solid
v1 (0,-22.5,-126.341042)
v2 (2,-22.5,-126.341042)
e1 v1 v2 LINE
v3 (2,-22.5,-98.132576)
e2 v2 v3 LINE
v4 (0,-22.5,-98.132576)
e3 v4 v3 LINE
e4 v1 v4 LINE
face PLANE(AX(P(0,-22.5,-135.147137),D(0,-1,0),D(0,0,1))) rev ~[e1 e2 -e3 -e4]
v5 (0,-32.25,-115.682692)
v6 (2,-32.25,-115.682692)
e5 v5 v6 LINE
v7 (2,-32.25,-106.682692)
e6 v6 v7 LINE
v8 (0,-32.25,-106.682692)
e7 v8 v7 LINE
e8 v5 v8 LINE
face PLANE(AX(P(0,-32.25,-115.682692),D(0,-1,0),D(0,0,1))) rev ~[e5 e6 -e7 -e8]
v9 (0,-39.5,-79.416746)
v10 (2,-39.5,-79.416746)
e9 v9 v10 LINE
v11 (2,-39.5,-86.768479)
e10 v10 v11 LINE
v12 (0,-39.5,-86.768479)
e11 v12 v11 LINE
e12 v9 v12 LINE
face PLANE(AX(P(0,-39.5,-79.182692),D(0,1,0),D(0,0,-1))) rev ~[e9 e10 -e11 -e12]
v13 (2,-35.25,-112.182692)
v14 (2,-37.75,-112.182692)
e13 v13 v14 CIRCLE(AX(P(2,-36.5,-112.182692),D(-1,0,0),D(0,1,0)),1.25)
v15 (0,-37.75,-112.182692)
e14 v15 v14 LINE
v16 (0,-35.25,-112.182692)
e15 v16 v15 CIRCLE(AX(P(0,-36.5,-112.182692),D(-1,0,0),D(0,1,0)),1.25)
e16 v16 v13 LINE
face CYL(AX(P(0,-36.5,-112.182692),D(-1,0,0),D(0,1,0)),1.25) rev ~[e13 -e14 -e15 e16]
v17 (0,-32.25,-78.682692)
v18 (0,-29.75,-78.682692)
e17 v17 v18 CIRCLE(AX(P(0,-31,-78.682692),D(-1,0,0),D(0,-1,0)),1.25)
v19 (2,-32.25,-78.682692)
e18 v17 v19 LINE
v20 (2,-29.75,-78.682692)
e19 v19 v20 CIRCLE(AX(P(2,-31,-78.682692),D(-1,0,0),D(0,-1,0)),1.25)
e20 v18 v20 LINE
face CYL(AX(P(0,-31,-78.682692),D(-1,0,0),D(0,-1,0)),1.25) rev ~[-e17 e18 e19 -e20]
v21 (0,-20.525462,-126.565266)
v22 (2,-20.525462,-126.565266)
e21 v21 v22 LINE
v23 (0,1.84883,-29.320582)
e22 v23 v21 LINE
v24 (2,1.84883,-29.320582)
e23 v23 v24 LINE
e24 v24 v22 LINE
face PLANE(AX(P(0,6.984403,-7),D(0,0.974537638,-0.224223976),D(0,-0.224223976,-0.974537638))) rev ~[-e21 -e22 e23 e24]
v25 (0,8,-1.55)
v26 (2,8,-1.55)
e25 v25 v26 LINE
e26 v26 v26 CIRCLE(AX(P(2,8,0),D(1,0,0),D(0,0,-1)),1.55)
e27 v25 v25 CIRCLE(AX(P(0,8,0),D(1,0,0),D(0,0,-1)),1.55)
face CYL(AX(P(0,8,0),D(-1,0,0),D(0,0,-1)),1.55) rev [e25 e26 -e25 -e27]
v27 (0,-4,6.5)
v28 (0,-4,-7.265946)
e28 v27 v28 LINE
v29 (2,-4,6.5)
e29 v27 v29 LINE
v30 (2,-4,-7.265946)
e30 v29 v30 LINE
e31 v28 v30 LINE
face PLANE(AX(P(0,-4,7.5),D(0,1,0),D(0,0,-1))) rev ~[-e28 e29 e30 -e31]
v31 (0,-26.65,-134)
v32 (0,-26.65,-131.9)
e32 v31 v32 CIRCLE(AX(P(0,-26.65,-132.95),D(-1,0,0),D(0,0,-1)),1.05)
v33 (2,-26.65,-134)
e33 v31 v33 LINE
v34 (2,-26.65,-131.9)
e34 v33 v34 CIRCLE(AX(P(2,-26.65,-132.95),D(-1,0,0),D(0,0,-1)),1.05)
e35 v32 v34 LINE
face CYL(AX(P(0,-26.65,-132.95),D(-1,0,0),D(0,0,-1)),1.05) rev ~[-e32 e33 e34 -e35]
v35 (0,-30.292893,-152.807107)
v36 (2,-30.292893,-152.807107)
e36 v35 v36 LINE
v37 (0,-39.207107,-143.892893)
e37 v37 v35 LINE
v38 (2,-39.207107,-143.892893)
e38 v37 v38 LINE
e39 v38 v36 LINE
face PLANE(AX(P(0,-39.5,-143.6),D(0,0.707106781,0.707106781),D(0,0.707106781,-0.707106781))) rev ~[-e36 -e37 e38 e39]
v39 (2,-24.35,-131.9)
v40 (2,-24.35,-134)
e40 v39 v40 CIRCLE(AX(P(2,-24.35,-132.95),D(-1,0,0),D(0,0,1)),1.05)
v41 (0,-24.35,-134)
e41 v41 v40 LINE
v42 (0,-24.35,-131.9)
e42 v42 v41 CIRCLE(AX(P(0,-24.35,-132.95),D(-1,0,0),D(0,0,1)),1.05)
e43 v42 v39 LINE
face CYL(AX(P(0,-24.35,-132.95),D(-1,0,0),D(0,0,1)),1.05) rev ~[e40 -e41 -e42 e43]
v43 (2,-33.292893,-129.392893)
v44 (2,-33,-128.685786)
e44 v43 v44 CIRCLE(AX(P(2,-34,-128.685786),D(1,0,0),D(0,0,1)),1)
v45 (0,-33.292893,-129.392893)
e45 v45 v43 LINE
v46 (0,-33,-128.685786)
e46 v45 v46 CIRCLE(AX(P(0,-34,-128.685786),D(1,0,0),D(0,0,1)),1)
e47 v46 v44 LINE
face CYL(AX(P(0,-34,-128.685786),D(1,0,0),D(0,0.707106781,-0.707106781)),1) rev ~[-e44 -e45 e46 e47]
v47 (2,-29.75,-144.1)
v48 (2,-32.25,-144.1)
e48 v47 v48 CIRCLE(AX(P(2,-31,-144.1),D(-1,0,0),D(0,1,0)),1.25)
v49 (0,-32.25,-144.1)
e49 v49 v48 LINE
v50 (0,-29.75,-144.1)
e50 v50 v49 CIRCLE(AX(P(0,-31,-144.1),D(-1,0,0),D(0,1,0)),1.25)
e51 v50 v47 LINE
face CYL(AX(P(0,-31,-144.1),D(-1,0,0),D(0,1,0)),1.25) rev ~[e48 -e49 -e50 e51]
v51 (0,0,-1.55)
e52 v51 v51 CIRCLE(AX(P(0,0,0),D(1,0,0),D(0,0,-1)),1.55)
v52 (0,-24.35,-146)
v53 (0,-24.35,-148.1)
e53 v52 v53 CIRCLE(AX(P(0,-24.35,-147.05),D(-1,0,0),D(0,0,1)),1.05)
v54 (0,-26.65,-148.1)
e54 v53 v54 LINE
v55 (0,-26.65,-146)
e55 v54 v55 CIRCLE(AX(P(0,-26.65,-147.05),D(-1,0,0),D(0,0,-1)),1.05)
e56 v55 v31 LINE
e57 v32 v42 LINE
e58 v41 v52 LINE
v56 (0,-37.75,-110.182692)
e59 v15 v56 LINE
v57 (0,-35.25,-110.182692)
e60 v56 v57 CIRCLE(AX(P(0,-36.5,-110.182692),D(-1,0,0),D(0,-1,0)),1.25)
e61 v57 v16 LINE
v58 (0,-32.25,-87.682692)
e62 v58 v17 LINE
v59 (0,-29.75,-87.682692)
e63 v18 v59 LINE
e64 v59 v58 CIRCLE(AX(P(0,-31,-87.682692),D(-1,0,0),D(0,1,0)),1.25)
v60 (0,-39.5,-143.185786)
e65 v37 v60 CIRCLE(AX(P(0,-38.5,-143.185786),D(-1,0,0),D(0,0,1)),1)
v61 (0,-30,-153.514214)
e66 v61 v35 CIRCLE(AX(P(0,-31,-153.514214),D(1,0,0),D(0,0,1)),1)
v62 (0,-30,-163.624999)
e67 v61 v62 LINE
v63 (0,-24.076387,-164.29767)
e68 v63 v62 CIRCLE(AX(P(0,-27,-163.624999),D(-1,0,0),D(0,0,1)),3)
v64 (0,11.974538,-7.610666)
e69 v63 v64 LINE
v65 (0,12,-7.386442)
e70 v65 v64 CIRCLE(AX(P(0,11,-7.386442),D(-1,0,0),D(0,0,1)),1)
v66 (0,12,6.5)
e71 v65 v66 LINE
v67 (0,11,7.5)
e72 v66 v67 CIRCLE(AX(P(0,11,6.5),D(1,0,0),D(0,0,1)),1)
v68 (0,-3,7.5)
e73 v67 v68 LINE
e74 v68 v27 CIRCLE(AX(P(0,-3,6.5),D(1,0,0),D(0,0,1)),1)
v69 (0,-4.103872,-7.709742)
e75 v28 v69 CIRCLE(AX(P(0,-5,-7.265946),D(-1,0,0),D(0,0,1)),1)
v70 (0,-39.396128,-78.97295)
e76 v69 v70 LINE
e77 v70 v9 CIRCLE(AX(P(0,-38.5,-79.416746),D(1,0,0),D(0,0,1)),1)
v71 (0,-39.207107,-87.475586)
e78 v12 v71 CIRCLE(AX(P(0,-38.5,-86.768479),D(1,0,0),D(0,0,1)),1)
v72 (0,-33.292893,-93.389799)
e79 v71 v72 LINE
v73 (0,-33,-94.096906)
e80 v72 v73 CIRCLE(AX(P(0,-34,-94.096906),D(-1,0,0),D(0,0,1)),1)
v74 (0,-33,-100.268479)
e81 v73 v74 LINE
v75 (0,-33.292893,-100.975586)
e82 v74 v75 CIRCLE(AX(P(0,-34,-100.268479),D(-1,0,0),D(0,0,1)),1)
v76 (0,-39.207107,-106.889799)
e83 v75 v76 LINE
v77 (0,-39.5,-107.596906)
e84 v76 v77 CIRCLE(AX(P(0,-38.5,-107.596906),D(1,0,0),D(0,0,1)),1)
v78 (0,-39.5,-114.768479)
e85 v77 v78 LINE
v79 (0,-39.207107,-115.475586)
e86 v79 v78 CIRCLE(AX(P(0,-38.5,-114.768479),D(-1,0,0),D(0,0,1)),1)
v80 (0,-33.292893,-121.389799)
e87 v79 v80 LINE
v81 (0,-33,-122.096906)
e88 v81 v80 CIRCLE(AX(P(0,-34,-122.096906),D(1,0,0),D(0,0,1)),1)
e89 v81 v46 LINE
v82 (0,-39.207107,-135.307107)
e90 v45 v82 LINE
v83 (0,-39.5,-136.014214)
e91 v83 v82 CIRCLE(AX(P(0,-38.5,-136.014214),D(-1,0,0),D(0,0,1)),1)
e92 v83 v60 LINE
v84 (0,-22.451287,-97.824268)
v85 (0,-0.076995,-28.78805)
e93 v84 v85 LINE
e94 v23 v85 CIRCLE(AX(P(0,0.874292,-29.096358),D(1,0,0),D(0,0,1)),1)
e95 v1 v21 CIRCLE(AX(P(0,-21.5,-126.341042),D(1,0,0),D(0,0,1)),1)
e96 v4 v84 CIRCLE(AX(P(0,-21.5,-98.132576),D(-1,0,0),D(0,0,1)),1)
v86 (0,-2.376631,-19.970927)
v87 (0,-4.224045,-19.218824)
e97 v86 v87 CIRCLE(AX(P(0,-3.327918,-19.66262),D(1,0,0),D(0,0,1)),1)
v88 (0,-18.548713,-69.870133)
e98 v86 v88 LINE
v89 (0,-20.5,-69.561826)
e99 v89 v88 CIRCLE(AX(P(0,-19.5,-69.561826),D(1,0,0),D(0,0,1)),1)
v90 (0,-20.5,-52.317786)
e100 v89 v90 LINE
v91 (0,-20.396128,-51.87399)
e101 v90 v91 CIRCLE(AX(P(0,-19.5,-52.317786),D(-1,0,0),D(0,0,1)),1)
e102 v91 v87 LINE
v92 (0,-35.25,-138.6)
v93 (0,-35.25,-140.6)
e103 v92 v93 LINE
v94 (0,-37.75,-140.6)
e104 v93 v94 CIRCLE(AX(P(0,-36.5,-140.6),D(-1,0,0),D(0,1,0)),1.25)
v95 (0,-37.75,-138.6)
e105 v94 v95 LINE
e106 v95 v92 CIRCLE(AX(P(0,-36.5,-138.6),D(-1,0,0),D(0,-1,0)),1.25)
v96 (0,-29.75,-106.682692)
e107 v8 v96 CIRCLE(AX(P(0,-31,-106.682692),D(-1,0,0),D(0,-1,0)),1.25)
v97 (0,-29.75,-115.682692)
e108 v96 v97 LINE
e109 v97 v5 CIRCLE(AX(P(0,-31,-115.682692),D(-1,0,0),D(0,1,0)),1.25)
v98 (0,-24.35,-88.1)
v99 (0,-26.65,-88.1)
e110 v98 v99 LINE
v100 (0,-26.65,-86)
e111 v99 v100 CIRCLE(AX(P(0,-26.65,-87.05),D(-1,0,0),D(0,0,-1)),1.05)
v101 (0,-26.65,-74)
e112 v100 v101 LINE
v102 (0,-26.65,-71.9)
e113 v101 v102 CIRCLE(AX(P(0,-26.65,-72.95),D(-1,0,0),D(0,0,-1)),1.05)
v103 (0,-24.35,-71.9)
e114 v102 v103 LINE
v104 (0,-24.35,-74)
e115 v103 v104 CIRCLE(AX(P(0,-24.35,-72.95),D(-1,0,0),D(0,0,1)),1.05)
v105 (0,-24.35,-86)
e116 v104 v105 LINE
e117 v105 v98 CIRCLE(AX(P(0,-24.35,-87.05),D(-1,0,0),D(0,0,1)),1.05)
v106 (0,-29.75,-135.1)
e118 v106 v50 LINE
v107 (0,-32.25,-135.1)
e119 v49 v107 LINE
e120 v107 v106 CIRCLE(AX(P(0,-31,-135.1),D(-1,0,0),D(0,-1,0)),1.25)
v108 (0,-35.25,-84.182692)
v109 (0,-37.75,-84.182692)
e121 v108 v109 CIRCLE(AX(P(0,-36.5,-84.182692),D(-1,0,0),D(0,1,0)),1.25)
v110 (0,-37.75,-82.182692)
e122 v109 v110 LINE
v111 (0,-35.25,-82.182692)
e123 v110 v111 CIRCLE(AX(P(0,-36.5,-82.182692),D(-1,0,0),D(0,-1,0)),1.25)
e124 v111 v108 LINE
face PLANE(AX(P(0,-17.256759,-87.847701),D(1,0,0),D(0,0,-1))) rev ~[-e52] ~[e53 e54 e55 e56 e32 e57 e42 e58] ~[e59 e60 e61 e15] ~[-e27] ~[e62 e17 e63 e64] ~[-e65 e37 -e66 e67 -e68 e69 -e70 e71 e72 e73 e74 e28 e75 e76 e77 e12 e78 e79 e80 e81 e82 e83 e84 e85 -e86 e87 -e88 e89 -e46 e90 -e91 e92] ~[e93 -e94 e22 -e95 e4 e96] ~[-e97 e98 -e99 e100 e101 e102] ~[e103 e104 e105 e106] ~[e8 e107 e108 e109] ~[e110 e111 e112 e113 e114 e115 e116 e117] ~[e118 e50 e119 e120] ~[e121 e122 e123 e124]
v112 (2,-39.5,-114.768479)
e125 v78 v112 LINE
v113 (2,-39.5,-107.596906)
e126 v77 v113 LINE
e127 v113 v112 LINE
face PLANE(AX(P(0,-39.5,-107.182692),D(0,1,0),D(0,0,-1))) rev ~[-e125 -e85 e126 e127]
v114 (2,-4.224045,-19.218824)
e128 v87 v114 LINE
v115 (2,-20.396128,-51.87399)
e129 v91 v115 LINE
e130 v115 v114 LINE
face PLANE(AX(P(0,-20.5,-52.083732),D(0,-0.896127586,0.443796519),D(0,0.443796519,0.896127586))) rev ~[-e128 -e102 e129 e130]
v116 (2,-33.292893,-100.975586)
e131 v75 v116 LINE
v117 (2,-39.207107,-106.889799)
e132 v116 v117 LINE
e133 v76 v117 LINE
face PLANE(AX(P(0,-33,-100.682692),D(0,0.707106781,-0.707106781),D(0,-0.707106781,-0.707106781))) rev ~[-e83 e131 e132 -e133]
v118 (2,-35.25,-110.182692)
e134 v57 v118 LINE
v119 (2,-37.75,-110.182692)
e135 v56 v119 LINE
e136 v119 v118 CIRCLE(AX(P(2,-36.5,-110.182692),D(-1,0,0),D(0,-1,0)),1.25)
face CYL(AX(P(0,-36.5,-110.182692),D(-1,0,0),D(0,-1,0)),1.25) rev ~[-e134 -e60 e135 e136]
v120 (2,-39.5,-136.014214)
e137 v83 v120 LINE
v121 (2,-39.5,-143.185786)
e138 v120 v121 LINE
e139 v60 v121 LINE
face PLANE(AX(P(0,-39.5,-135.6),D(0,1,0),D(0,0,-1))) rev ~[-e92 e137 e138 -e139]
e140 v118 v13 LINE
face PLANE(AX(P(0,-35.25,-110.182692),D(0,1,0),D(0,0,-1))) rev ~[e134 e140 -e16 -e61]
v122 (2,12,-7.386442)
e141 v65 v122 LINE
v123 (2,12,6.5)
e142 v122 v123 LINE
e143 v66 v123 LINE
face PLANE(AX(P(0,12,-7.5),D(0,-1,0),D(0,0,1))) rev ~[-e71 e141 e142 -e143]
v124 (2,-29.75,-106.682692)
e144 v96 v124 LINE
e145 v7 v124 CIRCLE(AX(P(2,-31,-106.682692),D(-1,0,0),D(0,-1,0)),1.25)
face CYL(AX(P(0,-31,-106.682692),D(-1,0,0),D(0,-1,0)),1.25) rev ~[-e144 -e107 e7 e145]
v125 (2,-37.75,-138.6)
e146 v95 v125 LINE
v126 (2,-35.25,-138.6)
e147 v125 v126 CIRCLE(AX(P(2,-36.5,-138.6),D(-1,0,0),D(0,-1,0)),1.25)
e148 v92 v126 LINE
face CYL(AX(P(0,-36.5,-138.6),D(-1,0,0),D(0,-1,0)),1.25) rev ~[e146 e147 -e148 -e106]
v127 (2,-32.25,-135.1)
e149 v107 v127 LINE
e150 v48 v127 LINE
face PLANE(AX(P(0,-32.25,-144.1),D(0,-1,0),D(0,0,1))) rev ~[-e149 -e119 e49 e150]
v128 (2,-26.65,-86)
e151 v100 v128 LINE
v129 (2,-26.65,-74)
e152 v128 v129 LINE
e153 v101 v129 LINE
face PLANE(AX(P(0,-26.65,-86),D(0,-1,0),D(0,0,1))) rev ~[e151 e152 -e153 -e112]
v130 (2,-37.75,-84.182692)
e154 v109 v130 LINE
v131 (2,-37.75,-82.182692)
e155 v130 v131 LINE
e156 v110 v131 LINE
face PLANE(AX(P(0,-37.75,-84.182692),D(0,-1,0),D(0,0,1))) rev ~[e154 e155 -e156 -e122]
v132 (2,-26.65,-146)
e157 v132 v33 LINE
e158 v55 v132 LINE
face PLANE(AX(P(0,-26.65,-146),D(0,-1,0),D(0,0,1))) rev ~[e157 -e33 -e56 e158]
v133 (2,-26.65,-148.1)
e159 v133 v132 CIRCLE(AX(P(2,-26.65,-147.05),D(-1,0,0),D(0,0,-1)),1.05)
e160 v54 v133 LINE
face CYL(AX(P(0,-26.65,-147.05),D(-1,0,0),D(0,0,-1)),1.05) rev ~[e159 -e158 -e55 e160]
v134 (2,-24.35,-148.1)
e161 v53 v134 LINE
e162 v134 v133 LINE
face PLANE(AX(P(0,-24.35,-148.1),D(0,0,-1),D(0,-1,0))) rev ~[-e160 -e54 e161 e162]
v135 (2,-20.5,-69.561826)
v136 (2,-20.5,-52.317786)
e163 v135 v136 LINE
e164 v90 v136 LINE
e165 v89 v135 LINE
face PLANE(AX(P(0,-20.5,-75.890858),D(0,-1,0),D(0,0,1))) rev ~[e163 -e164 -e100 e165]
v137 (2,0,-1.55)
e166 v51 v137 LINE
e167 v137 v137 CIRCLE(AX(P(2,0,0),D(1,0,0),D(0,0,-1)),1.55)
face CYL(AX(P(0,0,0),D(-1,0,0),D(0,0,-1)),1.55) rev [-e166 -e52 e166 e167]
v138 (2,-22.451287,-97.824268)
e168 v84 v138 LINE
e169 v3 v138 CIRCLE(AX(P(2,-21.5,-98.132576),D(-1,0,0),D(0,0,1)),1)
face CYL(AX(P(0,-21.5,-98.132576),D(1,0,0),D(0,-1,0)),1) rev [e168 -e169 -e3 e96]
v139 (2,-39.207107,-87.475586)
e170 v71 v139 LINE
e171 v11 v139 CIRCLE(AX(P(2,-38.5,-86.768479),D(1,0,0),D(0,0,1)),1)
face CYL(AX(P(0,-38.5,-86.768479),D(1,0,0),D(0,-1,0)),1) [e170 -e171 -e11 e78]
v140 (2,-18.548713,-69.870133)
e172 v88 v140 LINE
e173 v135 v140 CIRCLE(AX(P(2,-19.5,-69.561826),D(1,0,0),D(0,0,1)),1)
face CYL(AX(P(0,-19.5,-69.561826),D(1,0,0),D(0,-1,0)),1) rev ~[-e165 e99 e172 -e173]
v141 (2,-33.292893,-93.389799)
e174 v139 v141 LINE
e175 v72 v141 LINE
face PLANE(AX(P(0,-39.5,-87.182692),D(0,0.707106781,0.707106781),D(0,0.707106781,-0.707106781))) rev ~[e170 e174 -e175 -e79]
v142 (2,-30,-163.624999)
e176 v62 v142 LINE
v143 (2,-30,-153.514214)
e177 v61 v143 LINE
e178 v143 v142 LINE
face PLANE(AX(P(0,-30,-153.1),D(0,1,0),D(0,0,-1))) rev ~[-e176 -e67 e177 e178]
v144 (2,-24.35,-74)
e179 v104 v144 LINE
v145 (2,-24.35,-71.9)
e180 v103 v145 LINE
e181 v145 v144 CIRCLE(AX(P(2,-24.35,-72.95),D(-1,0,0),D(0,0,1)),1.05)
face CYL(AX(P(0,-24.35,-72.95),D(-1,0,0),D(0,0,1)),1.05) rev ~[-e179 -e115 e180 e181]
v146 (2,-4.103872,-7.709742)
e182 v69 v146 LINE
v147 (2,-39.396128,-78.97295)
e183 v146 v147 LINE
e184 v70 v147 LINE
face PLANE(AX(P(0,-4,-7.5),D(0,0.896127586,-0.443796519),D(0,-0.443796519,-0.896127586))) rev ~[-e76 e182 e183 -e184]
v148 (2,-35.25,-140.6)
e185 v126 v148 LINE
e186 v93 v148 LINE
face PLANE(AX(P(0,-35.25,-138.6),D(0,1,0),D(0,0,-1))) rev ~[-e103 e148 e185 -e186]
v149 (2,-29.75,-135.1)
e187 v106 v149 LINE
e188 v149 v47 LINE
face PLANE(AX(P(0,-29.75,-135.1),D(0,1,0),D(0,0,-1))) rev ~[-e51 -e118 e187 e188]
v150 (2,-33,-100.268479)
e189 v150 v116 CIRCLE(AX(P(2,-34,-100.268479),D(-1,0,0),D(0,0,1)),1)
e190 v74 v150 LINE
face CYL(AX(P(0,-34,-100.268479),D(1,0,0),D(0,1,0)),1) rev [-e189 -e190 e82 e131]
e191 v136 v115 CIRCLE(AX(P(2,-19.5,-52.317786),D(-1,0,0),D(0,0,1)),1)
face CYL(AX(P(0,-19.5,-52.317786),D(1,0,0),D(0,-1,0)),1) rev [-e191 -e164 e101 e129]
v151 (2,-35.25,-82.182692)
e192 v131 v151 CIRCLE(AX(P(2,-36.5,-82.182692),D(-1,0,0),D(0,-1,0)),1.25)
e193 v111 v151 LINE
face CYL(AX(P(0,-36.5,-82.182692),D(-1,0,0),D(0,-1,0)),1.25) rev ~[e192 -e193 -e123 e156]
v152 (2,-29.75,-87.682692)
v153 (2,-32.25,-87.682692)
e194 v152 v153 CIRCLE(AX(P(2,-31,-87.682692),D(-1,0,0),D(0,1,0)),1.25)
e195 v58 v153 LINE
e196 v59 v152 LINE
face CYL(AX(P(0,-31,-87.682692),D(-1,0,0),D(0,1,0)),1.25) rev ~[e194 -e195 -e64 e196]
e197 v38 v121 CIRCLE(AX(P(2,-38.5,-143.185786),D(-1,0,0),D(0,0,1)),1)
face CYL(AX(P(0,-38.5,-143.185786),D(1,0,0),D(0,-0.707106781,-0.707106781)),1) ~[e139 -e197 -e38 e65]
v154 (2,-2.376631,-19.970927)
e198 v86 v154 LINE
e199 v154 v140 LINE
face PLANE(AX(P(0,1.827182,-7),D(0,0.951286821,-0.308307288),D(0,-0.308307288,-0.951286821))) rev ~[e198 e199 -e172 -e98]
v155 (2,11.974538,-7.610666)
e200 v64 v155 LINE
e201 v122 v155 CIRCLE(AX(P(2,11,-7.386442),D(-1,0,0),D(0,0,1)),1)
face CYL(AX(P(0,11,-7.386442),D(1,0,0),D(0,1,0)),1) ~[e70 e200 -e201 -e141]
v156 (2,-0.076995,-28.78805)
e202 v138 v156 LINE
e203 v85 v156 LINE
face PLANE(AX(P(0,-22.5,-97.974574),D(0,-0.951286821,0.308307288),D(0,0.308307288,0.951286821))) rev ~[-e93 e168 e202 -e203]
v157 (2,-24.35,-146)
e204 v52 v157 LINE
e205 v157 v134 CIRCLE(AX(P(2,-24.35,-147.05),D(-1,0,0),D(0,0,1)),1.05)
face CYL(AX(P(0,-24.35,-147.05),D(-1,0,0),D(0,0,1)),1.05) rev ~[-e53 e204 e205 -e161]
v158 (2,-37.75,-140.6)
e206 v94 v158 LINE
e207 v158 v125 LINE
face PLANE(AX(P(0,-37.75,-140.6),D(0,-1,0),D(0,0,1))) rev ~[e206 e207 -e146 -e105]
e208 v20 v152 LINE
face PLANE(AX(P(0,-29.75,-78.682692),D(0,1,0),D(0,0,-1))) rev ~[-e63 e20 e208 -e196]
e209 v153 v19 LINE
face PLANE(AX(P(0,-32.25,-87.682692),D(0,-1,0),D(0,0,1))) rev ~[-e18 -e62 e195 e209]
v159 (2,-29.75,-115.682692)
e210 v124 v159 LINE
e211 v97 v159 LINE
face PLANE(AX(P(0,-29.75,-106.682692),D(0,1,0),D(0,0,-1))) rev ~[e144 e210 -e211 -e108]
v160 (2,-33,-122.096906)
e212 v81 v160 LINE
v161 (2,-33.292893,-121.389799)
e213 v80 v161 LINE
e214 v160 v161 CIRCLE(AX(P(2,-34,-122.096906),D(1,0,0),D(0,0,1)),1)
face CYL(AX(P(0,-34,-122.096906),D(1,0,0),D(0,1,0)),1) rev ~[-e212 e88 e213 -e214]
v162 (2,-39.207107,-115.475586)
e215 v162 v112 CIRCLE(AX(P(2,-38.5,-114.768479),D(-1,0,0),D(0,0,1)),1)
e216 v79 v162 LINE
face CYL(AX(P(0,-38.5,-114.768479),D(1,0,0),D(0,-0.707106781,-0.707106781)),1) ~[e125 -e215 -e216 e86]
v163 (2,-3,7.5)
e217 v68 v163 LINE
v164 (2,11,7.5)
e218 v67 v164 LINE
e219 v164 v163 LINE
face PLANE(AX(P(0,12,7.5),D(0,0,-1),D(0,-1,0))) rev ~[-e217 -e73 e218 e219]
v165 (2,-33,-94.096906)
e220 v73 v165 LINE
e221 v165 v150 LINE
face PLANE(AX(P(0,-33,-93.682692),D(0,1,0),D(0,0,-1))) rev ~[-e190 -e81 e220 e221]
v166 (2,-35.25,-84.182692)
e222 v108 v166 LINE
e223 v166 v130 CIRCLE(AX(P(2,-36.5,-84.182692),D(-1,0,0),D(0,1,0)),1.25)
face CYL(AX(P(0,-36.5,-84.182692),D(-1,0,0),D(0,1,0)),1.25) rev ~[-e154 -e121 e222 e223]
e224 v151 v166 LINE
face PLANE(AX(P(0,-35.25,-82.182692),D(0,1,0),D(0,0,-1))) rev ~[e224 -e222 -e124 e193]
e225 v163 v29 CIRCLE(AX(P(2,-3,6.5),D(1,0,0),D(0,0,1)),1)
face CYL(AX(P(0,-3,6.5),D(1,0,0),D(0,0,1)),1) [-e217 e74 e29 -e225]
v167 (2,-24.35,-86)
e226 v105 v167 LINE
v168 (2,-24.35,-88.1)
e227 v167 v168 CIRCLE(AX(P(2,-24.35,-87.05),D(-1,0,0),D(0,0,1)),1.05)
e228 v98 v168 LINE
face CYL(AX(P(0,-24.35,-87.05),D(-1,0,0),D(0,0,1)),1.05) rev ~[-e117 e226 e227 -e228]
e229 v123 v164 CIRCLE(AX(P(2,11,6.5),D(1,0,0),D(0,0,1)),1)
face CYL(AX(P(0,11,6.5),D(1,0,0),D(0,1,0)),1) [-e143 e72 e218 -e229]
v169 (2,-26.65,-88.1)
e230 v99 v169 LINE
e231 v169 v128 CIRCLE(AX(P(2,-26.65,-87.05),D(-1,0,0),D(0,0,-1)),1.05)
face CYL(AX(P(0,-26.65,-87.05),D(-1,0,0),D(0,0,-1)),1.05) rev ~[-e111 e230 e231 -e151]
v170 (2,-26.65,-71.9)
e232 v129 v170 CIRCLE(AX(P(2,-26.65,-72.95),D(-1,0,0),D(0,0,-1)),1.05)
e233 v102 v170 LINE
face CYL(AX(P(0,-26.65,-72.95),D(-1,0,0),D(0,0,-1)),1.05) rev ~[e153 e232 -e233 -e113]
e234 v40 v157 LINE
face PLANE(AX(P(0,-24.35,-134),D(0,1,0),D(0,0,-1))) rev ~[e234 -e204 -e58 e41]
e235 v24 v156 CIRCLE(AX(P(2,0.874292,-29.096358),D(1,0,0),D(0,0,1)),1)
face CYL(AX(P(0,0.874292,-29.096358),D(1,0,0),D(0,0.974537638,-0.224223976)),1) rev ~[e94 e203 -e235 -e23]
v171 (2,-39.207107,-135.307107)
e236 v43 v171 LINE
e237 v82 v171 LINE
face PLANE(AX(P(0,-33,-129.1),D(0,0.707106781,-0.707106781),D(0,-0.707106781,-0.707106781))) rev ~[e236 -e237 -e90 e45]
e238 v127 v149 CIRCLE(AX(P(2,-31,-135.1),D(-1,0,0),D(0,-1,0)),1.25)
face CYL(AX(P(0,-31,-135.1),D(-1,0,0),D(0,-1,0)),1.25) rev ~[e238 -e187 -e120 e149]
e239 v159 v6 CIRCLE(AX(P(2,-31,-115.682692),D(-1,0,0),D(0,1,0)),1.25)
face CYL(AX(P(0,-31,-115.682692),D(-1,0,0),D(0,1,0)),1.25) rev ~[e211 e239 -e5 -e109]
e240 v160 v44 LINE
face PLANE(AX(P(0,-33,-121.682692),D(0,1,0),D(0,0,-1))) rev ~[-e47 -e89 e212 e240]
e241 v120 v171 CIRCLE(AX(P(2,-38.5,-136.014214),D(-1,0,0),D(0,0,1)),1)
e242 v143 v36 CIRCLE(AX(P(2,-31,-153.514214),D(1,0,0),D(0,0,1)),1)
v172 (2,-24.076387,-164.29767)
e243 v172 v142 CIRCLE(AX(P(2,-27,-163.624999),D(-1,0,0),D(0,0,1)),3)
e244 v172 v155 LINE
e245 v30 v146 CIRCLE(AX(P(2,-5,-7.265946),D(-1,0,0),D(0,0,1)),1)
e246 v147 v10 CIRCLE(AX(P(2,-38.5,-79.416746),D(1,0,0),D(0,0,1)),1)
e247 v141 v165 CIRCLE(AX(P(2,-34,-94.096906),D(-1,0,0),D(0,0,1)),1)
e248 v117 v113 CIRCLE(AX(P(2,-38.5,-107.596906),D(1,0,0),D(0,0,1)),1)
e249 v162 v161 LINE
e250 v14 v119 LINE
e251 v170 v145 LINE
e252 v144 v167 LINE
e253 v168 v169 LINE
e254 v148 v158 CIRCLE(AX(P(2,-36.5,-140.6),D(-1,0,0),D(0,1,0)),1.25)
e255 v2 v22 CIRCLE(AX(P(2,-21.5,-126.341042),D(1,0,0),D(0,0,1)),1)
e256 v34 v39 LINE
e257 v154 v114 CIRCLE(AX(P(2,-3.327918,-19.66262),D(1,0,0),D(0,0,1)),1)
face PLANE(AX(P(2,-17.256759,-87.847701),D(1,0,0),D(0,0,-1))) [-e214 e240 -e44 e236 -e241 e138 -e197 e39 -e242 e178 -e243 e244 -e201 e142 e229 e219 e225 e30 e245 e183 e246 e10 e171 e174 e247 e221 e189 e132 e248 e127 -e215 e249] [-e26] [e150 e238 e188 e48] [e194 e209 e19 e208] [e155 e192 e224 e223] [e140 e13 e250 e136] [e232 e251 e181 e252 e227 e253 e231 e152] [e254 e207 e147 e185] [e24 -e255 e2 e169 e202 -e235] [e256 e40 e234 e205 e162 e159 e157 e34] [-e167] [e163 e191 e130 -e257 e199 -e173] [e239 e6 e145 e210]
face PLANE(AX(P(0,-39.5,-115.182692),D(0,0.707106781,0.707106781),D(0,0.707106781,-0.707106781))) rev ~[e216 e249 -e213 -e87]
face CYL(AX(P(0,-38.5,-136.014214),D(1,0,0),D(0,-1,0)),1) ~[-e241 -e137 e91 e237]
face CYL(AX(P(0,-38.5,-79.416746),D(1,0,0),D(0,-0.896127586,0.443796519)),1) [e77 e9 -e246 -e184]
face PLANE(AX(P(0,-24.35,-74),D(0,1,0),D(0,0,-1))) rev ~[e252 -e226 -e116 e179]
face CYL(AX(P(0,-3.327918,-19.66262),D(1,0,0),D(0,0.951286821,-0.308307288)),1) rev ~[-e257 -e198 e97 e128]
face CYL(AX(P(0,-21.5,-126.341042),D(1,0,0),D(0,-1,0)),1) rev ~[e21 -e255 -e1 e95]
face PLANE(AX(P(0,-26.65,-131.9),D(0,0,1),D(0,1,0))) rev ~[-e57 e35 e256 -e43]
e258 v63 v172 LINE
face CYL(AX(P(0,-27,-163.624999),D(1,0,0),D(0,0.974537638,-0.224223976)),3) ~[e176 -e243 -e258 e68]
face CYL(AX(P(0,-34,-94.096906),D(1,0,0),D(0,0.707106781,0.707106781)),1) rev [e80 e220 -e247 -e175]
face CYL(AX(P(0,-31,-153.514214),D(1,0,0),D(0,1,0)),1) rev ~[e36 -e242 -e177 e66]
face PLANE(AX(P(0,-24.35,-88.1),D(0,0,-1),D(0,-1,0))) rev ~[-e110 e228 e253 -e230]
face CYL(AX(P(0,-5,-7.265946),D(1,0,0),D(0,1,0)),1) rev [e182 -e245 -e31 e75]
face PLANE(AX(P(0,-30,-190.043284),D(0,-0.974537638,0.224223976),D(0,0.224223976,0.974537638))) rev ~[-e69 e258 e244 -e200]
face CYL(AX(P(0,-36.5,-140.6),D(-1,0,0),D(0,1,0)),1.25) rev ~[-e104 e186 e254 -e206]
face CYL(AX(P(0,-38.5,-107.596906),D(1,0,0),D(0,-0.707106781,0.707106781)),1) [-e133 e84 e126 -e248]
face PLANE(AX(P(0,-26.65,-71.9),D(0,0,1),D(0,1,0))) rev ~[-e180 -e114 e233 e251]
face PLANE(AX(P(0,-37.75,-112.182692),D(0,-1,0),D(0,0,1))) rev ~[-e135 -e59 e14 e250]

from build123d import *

# Parameters (mm, degrees)
SKETCH_1_R      = 1.55
EXTRUDE_1_DEPTH = 2
FILLET_1_R      = 1
FILLET_2_R      = 3


with BuildPart() as part:
    # 草图1 → 凸台-拉伸1 (new body)
    with BuildSketch(Plane(origin=(0, 0, 0), x_dir=(0, 0, -1), z_dir=(1, 0, 0))):
        Polygon((7.5, 12), (-7.5, 12), (-7.5, -4), (7.5, -4), (79.182692308, -39.5), (87.182692308, -39.5), (93.682692308, -33), (100.682692308, -33), (107.182692308, -39.5), (115.182692308, -39.5), (121.682692308, -33), (129.1, -33), (135.6, -39.5), (143.6, -39.5), (153.1, -30), (190.043283582, -30), align=None)
        with BuildLine():
            Line((78.682692308, -29.75), (87.682692308, -29.75))
            ThreePointArc((87.682692308, -29.75), (88.932692308, -31), (87.682692308, -32.25))
            Line((87.682692308, -32.25), (78.682692308, -32.25))
            ThreePointArc((78.682692308, -32.25), (77.432692308, -31), (78.682692308, -29.75))
        make_face(mode=Mode.SUBTRACT)
        with BuildLine():
            Line((106.682692308, -29.75), (115.682692308, -29.75))
            ThreePointArc((115.682692308, -29.75), (116.932692308, -31), (115.682692308, -32.25))
            Line((115.682692308, -32.25), (106.682692308, -32.25))
            ThreePointArc((106.682692308, -32.25), (105.432692308, -31), (106.682692308, -29.75))
        make_face(mode=Mode.SUBTRACT)
        with BuildLine():
            Line((135.1, -29.75), (144.1, -29.75))
            ThreePointArc((144.1, -29.75), (145.35, -31), (144.1, -32.25))
            Line((144.1, -32.25), (135.1, -32.25))
            ThreePointArc((135.1, -32.25), (133.85, -31), (135.1, -29.75))
        make_face(mode=Mode.SUBTRACT)
        with BuildLine():
            Line((86, -26.65), (74, -26.65))
            ThreePointArc((74, -26.65), (72.95, -27.7), (71.9, -26.65))
            Line((71.9, -26.65), (71.9, -24.35))
            ThreePointArc((71.9, -24.35), (72.95, -23.3), (74, -24.35))
            Line((74, -24.35), (86, -24.35))
            ThreePointArc((86, -24.35), (87.05, -23.3), (88.1, -24.35))
            Line((88.1, -24.35), (88.1, -26.65))
            ThreePointArc((88.1, -26.65), (87.05, -27.7), (86, -26.65))
        make_face(mode=Mode.SUBTRACT)
        with BuildLine():
            Line((146, -26.65), (134, -26.65))
            ThreePointArc((134, -26.65), (132.95, -27.7), (131.9, -26.65))
            Line((131.9, -26.65), (131.9, -24.35))
            ThreePointArc((131.9, -24.35), (132.95, -23.3), (134, -24.35))
            Line((134, -24.35), (146, -24.35))
            ThreePointArc((146, -24.35), (147.05, -23.3), (148.1, -24.35))
            Line((148.1, -24.35), (148.1, -26.65))
            ThreePointArc((148.1, -26.65), (147.05, -27.7), (146, -26.65))
        make_face(mode=Mode.SUBTRACT)
        Polygon((52.083732258, -20.5), (7, 1.827181689), (75.890858402, -20.5), align=None, mode=Mode.SUBTRACT)
        Polygon((97.974573659, -22.5), (7, 6.984403045), (135.147136815, -22.5), align=None, mode=Mode.SUBTRACT)
        Circle(SKETCH_1_R, mode=Mode.SUBTRACT)
        with Locations((0, 8)):
            Circle(SKETCH_1_R, mode=Mode.SUBTRACT)
        with BuildLine():
            Line((138.6, -35.25), (140.6, -35.25))
            ThreePointArc((140.6, -35.25), (141.85, -36.5), (140.6, -37.75))
            Line((140.6, -37.75), (138.6, -37.75))
            ThreePointArc((138.6, -37.75), (137.35, -36.5), (138.6, -35.25))
        make_face(mode=Mode.SUBTRACT)
        with BuildLine():
            ThreePointArc((82.182692308, -37.75), (80.932692308, -36.5), (82.182692308, -35.25))
            Line((82.182692308, -35.25), (84.182692308, -35.25))
            ThreePointArc((84.182692308, -35.25), (85.432692308, -36.5), (84.182692308, -37.75))
            Line((84.182692308, -37.75), (82.182692308, -37.75))
        make_face(mode=Mode.SUBTRACT)
        with BuildLine():
            ThreePointArc((110.182692308, -37.75), (108.932692308, -36.5), (110.182692308, -35.25))
            Line((110.182692308, -35.25), (112.182692308, -35.25))
            ThreePointArc((112.182692308, -35.25), (113.432692308, -36.5), (112.182692308, -37.75))
            Line((112.182692308, -37.75), (110.182692308, -37.75))
        make_face(mode=Mode.SUBTRACT)
    extrude(amount=EXTRUDE_1_DEPTH)

    # 圆角1
    fillet_1_edges = [part.edges().sort_by_distance(p)[0] for p in [
        (1, -33, -121.682692308),
        (1, -39.5, -115.182692308),
        (1, -39.5, -107.182692308),
        (1, -33, -100.682692308),
        (1, -33, -93.682692308),
        (1, -39.5, -87.182692308),
        (1, -39.5, -79.182692308),
        (1, -4, -7.5),
        (1, -4, 7.5),
        (1, 12, 7.5),
        (1, 12, -7.5),
        (1, -30, -153.1),
        (1, -39.5, -143.6),
        (1, -39.5, -135.6),
        (1, -33, -129.1),
        (1, 6.984403045, -7),
        (1, -22.5, -97.974573659),
        (1, -22.5, -135.147136815),
        (1, 1.827181689, -7),
        (1, -20.5, -52.083732258),
        (1, -20.5, -75.890858402),
    ]]
    fillet(fillet_1_edges, radius=FILLET_1_R)

    # 圆角2
    fillet_2_edges = [part.edges().sort_by_distance(p)[0] for p in [
        (1, -30, -190.043283582),
    ]]
    fillet(fillet_2_edges, radius=FILLET_2_R)


solid = part.part
